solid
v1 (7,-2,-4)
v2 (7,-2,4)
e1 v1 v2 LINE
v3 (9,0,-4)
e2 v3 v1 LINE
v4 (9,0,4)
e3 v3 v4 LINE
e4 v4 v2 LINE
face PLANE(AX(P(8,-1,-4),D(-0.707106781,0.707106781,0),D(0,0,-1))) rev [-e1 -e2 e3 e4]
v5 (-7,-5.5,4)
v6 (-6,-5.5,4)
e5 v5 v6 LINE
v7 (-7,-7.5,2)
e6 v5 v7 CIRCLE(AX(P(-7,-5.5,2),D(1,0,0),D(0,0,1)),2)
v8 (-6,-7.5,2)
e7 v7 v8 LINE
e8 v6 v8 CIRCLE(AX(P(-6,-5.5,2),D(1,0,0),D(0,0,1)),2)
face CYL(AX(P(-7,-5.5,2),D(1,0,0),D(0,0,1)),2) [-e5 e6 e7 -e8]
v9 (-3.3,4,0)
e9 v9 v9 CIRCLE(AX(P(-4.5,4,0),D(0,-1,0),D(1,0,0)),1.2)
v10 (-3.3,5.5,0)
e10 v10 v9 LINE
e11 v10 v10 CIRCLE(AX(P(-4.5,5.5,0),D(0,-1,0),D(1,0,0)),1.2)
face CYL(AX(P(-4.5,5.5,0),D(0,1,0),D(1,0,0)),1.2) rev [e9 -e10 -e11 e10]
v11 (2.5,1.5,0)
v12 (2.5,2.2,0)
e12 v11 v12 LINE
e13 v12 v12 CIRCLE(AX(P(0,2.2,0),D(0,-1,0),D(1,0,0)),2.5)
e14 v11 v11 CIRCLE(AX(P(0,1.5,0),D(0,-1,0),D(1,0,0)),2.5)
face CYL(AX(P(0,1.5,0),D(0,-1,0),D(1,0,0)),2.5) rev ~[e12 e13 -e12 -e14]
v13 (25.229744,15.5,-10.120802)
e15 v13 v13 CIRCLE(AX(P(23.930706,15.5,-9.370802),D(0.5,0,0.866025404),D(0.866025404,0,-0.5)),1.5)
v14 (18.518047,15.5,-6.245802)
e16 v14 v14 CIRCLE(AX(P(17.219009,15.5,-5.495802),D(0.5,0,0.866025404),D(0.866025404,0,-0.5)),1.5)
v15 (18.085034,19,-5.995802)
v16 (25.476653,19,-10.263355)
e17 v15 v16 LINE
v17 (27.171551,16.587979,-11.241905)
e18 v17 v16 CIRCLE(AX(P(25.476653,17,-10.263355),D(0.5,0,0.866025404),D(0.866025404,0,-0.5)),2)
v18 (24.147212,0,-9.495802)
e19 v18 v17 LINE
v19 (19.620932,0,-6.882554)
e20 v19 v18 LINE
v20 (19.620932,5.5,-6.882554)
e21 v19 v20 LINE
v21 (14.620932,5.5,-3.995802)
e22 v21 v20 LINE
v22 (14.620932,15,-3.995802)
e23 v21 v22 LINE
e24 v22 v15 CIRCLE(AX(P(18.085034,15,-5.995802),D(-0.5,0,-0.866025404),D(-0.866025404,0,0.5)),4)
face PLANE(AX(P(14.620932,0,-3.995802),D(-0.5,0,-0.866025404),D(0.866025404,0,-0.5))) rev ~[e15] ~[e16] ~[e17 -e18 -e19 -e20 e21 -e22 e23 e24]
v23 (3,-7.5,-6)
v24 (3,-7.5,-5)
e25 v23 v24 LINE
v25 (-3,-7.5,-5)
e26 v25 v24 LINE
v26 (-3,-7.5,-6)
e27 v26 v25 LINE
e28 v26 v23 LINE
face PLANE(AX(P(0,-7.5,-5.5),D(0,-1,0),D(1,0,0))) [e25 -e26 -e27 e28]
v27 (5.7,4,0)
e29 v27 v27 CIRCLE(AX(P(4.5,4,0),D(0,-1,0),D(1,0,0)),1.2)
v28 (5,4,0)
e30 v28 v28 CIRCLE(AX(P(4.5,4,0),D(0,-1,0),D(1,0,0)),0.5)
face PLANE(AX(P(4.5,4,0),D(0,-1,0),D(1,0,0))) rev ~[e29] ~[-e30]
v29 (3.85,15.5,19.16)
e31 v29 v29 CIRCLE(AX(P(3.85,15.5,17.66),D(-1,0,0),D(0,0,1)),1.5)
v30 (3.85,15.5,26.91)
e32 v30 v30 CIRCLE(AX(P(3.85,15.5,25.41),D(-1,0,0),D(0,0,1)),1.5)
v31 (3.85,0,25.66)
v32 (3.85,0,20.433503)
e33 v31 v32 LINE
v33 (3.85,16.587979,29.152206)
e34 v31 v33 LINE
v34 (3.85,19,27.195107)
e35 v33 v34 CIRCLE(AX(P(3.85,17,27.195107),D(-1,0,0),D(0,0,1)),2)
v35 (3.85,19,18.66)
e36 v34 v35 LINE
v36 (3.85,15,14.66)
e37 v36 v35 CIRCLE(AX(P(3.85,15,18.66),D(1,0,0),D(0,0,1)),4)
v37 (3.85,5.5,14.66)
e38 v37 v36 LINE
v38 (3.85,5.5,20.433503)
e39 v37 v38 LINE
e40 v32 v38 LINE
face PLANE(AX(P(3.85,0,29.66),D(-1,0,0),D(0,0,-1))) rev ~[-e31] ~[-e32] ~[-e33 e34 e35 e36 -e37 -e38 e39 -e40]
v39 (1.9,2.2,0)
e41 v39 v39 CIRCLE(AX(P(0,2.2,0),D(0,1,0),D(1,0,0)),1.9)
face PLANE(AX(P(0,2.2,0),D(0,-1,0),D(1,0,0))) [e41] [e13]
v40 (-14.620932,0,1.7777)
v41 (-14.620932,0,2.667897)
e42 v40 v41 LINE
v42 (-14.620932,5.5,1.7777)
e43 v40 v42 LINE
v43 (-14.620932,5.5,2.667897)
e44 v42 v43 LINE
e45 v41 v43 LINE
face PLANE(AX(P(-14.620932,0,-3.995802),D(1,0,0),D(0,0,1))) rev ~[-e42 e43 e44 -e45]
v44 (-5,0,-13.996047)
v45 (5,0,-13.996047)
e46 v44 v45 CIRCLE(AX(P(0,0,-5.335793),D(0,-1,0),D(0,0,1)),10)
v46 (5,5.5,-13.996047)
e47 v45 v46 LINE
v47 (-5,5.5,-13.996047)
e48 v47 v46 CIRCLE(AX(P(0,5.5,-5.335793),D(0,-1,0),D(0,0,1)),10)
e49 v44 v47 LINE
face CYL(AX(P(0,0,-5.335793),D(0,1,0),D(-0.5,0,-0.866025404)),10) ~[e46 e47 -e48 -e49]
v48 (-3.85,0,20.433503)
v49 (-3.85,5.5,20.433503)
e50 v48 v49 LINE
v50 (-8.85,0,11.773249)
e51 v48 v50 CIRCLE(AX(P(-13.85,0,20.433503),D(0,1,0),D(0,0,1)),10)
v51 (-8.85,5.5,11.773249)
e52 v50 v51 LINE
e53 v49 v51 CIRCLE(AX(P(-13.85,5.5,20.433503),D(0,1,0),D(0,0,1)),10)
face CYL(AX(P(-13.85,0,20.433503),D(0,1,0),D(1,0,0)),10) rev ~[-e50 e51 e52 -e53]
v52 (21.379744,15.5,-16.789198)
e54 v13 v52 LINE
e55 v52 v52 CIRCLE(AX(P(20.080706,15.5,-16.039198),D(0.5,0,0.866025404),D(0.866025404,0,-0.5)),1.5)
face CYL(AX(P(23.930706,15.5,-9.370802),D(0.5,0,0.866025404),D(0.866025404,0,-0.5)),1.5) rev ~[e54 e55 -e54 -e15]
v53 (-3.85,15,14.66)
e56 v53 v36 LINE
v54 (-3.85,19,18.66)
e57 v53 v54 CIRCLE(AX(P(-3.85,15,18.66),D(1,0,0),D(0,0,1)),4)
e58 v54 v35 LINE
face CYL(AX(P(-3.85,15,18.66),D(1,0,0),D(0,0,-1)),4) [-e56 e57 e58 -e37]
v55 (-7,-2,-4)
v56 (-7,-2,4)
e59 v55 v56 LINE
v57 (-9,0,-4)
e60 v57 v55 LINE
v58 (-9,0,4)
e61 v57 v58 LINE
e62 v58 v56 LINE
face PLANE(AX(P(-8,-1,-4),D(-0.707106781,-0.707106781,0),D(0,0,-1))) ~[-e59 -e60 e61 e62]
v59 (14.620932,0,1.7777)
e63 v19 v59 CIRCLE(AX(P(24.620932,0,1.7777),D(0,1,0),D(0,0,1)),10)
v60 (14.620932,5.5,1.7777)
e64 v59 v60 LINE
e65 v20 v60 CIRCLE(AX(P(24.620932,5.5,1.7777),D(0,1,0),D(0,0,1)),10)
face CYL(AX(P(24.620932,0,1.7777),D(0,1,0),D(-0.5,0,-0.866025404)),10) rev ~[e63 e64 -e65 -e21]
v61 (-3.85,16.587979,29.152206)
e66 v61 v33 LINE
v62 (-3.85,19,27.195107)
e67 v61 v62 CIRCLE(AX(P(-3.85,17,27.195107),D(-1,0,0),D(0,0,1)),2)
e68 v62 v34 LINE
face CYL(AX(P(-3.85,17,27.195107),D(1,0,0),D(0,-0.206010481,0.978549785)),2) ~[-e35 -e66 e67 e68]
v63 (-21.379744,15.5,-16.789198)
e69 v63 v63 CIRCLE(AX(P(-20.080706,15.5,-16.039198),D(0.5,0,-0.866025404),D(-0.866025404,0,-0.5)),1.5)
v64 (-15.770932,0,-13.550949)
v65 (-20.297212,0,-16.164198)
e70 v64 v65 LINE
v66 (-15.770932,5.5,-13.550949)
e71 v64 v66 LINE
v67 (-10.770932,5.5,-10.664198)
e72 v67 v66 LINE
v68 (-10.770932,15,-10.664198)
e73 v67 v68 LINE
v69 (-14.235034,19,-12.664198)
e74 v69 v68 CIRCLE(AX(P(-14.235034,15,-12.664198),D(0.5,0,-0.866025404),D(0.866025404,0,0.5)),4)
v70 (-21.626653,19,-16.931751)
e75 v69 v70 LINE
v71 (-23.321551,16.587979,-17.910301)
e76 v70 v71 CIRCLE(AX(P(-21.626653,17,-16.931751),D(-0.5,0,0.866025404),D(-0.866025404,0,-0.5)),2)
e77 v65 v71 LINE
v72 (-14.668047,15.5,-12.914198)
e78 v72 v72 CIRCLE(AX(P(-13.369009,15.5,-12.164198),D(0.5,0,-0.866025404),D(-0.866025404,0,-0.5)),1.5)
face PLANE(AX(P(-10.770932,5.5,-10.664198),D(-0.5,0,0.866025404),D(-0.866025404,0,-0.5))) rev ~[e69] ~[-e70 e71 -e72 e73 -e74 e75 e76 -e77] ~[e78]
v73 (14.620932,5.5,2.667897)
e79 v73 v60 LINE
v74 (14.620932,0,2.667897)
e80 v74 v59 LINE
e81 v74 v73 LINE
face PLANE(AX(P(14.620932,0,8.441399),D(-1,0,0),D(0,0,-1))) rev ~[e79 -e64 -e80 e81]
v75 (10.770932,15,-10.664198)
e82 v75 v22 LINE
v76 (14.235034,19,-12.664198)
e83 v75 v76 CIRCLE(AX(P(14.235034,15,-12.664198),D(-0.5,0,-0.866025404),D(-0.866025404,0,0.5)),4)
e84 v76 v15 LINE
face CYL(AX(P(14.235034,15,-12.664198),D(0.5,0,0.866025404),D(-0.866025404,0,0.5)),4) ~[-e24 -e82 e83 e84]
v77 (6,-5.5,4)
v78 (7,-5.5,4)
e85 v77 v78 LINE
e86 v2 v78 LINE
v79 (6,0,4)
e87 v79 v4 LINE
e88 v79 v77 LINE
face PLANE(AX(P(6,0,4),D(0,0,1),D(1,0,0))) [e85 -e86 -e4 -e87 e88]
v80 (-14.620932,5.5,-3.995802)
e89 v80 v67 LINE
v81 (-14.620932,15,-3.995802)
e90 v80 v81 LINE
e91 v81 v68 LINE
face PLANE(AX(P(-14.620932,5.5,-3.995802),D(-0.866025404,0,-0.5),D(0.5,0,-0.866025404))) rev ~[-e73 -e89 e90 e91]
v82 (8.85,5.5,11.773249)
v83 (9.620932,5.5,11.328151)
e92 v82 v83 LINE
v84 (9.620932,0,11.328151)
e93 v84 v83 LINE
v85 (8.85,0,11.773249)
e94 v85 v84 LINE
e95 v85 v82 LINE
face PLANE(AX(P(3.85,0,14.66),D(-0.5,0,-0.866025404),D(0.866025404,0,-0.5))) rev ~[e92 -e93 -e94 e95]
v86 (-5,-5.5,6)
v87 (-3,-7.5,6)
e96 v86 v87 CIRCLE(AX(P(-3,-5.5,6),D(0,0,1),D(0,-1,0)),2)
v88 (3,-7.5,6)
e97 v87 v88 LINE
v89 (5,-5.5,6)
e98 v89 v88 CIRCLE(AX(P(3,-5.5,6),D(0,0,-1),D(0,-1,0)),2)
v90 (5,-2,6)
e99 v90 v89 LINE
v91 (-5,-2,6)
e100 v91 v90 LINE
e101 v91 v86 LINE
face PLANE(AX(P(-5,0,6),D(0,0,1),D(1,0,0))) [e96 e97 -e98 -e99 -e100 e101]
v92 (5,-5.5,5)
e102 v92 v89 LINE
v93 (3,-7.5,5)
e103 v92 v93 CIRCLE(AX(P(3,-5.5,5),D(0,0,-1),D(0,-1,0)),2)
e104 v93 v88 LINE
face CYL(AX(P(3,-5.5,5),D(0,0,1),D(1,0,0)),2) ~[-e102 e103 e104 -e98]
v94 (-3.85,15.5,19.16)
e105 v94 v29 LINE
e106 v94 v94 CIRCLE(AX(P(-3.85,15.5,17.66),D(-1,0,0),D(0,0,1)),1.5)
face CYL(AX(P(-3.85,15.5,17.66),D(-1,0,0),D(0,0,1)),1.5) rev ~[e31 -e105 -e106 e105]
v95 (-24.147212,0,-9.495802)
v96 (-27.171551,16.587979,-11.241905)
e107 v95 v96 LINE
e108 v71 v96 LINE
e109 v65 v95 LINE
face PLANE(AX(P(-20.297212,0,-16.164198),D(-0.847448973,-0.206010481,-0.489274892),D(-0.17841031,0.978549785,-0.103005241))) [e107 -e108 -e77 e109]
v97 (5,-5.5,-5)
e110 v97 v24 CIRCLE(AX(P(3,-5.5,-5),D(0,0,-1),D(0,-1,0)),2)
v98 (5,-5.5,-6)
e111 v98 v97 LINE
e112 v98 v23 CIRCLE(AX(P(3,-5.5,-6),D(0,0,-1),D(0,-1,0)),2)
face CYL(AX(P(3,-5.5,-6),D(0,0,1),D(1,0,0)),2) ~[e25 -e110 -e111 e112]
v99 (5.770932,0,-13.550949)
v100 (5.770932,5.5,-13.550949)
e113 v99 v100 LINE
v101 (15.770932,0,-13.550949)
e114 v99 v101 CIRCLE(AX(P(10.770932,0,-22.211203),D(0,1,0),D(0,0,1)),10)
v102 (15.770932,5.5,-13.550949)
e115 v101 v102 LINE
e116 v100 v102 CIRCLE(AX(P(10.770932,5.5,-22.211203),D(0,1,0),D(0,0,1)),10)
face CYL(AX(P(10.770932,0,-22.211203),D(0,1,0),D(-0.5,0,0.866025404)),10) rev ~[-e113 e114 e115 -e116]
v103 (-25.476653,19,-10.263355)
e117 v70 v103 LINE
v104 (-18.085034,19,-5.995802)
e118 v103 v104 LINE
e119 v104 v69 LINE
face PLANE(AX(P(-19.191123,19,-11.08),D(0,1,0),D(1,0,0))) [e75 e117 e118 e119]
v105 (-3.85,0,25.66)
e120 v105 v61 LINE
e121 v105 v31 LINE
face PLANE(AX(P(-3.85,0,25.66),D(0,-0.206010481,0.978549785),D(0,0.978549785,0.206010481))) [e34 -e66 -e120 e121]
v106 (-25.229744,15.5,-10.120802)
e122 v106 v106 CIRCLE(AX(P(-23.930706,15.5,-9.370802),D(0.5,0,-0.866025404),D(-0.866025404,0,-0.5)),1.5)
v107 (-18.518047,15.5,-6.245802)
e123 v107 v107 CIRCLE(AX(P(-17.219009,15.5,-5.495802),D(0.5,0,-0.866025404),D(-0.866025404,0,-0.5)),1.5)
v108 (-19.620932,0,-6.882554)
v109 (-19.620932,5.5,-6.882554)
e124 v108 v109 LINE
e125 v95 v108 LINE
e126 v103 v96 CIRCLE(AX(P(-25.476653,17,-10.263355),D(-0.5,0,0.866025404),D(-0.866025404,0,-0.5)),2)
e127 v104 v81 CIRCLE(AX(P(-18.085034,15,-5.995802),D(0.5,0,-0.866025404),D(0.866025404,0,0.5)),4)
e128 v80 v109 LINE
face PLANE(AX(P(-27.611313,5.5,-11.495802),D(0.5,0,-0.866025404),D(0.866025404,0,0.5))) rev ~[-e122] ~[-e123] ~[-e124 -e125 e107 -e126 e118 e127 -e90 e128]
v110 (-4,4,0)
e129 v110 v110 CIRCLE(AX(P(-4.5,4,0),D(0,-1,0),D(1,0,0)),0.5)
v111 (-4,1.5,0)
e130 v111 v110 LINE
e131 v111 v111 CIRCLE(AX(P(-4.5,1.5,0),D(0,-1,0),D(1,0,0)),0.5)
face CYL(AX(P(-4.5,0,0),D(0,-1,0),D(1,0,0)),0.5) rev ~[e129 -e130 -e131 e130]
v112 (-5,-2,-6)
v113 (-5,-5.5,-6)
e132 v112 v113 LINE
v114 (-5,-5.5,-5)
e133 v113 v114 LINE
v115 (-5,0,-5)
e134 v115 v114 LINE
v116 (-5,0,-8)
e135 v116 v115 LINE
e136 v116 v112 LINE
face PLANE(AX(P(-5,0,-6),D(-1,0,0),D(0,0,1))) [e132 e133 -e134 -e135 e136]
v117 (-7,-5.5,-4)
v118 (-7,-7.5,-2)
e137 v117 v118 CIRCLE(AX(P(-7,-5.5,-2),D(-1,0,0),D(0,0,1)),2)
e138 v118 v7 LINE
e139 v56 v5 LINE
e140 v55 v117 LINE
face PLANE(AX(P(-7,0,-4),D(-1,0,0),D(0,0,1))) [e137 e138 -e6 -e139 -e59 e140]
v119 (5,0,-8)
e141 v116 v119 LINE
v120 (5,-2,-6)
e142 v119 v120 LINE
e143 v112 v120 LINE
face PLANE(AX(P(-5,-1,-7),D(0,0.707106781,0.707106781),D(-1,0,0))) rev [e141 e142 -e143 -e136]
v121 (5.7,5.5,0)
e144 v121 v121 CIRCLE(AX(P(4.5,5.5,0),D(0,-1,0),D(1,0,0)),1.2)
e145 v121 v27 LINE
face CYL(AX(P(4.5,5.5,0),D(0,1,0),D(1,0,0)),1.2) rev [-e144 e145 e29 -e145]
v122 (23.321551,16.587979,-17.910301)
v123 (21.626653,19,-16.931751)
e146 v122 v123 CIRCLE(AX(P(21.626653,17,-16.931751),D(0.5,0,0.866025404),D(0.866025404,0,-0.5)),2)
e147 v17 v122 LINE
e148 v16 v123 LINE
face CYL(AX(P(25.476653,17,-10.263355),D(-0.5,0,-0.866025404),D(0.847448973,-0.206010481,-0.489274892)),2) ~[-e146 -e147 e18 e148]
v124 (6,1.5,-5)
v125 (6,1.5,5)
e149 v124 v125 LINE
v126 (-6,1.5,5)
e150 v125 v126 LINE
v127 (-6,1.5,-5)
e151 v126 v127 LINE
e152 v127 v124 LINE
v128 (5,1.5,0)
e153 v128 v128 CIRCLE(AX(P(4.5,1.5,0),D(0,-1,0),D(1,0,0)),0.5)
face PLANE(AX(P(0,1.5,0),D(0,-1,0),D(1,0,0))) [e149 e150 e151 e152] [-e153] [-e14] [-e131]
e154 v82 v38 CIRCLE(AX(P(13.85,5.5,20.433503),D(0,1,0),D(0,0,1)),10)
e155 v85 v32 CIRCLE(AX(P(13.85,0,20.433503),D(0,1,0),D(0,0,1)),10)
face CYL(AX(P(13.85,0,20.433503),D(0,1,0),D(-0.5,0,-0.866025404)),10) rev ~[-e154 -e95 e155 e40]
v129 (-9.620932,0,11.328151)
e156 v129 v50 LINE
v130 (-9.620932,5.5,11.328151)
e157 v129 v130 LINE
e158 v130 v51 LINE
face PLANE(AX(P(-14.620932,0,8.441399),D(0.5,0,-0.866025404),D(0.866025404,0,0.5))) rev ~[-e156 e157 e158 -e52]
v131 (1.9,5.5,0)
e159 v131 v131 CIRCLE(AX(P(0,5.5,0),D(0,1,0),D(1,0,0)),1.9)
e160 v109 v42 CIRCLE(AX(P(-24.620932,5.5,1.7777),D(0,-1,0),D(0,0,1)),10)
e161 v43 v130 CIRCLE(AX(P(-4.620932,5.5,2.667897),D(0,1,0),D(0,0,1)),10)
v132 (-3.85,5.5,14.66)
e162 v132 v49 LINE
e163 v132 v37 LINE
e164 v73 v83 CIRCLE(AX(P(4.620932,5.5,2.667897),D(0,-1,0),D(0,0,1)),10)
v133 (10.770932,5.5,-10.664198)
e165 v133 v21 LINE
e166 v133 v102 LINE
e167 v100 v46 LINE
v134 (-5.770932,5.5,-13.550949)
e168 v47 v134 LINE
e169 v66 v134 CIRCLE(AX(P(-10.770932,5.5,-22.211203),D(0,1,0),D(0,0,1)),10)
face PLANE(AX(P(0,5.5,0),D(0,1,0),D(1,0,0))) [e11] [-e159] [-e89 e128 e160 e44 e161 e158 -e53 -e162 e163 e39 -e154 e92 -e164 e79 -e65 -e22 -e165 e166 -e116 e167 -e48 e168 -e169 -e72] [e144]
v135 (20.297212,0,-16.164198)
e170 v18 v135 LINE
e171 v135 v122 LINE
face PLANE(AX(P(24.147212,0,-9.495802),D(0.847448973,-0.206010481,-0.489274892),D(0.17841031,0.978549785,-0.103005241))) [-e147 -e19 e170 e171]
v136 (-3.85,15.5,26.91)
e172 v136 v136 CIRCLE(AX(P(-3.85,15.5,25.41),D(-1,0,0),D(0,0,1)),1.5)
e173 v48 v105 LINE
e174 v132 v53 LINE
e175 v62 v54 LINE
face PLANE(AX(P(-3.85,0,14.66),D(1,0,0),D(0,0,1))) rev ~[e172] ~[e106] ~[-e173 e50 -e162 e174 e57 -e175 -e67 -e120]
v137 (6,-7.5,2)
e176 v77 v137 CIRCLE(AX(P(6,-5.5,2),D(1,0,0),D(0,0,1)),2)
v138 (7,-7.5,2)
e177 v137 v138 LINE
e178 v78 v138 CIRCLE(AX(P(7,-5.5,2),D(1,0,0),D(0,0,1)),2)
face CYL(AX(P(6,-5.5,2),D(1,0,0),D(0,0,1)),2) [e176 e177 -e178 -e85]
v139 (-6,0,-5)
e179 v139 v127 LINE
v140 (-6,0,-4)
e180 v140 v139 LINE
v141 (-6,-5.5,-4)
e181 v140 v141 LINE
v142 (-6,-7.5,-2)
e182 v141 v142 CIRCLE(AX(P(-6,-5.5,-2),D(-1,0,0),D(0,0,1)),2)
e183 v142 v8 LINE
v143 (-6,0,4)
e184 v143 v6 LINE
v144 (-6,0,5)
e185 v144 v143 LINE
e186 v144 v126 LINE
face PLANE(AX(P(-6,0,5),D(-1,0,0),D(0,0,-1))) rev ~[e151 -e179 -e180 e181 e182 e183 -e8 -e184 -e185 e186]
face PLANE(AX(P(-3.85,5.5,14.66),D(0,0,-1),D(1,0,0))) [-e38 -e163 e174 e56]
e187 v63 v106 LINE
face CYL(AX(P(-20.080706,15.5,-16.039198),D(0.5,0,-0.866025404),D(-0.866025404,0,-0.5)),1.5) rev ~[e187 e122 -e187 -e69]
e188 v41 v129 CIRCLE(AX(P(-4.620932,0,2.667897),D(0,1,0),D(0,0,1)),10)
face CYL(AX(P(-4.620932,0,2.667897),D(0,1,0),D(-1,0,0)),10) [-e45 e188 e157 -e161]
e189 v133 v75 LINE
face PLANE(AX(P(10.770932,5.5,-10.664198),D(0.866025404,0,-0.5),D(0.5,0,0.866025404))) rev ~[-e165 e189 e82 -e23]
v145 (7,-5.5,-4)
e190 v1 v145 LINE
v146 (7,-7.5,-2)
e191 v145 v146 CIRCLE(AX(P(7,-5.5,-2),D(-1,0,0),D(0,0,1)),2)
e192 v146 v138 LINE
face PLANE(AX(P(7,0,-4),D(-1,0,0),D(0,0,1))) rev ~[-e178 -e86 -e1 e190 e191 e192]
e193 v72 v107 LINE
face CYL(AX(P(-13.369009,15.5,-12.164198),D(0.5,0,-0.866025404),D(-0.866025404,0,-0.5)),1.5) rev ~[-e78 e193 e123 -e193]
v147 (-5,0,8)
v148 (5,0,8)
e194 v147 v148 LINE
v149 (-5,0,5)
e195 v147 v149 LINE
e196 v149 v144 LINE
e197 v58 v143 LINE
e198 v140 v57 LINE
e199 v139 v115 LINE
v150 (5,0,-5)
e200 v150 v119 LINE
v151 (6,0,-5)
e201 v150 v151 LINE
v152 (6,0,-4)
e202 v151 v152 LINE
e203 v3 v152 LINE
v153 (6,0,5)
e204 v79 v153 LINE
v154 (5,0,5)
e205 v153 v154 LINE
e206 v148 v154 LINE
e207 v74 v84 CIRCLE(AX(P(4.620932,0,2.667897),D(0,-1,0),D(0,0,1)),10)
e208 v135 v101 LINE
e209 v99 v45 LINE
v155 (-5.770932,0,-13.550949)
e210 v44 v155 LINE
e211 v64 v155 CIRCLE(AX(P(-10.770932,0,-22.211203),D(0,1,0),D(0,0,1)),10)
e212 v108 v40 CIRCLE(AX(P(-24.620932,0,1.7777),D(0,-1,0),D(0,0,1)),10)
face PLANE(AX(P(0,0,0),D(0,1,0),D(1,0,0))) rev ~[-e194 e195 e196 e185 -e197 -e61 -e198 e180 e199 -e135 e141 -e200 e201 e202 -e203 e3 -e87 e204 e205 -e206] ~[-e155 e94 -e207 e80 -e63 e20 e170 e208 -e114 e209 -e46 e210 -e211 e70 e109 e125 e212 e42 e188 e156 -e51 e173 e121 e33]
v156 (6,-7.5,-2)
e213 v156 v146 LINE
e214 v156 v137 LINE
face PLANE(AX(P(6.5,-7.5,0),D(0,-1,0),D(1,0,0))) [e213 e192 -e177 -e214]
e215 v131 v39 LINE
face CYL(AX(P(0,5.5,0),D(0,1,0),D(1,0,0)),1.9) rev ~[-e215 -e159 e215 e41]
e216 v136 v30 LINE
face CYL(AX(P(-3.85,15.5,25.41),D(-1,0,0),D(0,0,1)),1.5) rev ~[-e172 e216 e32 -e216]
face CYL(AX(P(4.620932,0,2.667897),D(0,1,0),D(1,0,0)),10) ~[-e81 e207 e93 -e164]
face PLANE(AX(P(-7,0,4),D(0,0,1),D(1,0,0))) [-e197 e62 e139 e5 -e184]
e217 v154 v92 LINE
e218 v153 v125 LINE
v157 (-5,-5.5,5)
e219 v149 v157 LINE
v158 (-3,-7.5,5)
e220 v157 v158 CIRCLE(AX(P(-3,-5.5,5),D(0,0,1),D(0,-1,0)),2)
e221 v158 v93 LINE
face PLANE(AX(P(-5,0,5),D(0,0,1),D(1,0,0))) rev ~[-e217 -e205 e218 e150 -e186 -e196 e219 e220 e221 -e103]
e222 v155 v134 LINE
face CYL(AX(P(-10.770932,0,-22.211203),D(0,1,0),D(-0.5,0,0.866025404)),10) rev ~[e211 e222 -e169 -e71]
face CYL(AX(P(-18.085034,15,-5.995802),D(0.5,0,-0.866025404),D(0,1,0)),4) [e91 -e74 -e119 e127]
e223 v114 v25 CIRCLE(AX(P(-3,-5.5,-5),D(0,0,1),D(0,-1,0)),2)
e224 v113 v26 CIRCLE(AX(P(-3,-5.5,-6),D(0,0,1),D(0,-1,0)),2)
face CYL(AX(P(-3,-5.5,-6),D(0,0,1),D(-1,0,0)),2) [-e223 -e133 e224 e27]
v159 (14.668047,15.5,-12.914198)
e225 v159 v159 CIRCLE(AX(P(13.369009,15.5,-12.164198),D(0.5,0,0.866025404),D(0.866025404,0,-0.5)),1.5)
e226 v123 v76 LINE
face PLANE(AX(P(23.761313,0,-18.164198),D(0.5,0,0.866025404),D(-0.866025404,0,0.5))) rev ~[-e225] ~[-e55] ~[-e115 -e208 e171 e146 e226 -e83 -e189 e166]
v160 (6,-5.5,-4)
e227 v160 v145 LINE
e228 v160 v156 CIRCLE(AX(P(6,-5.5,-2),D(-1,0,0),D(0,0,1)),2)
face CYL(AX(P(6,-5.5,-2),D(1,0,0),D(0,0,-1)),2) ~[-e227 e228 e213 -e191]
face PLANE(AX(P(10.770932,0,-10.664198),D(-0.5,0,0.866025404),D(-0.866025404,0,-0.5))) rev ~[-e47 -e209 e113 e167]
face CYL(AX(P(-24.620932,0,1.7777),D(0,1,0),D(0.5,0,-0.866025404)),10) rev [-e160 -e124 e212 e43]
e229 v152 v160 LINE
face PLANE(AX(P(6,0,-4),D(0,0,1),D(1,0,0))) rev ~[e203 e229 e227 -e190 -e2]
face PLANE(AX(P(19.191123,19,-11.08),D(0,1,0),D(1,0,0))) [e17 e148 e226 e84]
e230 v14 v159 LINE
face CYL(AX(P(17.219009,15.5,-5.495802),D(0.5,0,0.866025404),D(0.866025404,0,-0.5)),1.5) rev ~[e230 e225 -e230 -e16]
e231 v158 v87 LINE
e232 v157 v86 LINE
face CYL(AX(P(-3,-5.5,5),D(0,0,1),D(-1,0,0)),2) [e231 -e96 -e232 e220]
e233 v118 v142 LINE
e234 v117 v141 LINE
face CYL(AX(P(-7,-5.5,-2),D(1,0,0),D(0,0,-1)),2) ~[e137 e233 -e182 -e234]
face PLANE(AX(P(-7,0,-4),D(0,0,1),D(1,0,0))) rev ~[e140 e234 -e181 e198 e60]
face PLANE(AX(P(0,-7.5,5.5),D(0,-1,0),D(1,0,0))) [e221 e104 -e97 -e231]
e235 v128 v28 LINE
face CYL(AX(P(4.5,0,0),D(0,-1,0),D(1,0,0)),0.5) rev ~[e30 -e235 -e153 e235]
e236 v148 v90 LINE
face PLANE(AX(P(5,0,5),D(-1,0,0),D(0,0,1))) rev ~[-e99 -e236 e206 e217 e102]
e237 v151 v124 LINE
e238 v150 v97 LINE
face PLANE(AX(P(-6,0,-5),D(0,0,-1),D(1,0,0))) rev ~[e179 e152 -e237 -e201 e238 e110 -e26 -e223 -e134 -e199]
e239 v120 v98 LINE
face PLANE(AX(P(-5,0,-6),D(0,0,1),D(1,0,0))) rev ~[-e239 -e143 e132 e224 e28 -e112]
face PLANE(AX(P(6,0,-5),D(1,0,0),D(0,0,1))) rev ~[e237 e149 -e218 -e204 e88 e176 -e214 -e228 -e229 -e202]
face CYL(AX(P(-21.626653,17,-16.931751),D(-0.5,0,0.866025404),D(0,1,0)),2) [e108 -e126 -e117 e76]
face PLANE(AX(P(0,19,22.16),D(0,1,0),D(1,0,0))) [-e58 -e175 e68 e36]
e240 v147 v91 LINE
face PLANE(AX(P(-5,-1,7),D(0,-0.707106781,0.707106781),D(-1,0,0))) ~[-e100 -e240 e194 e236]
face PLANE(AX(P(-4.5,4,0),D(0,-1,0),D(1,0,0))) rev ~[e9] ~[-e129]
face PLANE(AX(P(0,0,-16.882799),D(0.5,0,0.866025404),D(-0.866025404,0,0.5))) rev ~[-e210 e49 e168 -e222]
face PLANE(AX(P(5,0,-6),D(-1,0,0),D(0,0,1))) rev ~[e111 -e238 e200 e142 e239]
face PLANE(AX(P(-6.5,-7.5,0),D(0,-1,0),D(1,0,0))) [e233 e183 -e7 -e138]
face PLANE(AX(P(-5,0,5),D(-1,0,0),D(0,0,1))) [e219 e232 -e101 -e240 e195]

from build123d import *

# Parameters (mm, degrees)
BOSS_EXTRUSION_DEPTH     = 5.5
SCHIZZO2_W               = 7.7
SCHIZZO2_H               = 15
EXTERNAL_EXTRUSION_DEPTH = 13.5
SCHIZZO3_R               = 1.9
CETRAL_HOLE_DEPTH        = 6.5
SKETCH1_R                = 1.5
CUT_EXTRUDE1_DEPTH       = 7.7
CIRPATTERN1_COUNT        = 3
FILLET1_R                = 10
FILLET2_R                = 4
FILLET3_R                = 2
SKETCH2_R                = 0.5
CUT_EXTRUDE2_DEPTH       = 7.7
SKETCH2_5_W              = 1
SKETCH2_5_H              = 8
SKETCH2_5_W_2            = 10
SKETCH2_5_H_2            = 1
BOSS_EXTRUDE1_DEPTH      = 7.5
FILLET4_R                = 2
CHAMFER1_SIZE            = 2
SKETCH2_6_R              = 1.2
SKETCH2_6_R_2            = 1.9
SKETCH2_6_R_3            = 0.5
CUT_EXTRUDE4_DEPTH       = 1.5
CUT_EXTRUDE5_START       = -5.5
SKETCH2_7_R              = 1.2
SKETCH2_7_R_2            = 0.5
CUT_EXTRUDE5_DEPTH       = 1.5
SKETCH4_R                = 2.5
CUT_EXTRUDE6_DEPTH       = 0.7


with BuildPart() as part:
    # Schizzo1 → Boss extrusion (new body)
    with BuildSketch(Plane(origin=(0, 0, 0), x_dir=(1, 0, 0), z_dir=(0, 1, 0))):
        Polygon((-27.611313476, 11.495802195), (-14.620932419, 3.995802195), (-14.620932419, -8.441399268), (-3.85, -14.66), (-3.85, -29.66), (3.85, -29.66), (3.85, -14.66), (14.620932419, -8.441399268), (14.620932419, 3.995802195), (27.611313476, 11.495802195), (23.761313476, 18.164197805), (10.770932419, 10.664197805), (0, 16.882798536), (-10.770932419, 10.664197805), (-23.761313476, 18.164197805), align=None)
    extrude(amount=BOSS_EXTRUSION_DEPTH)

    # Schizzo2 → external extrusion (add)
    with BuildSketch(Plane(origin=(0, 5.5, 0), x_dir=(1, 0, 0), z_dir=(0, 1, 0))):
        Polygon((-23.761313476, 18.164197805), (-27.611313476, 11.495802195), (-14.620932419, 3.995802195), (-10.770932419, 10.664197805), align=None)
        with Locations((0, -22.16)):
            Rectangle(SCHIZZO2_W, SCHIZZO2_H)
        Polygon((10.770932419, 10.664197805), (14.620932419, 3.995802195), (27.611313476, 11.495802195), (23.761313476, 18.164197805), align=None)
    extrude(amount=EXTERNAL_EXTRUSION_DEPTH)

    # Schizzo3 → cetral hole (cut, through all)
    with BuildSketch(Plane(origin=(0, 5.5, 0), x_dir=(1, 0, 0), z_dir=(0, 1, 0))):
        Circle(SCHIZZO3_R)
    extrude(amount=-CETRAL_HOLE_DEPTH, mode=Mode.SUBTRACT)

    # Sketch1 → Cut-Extrude1 (cut)
    with BuildSketch(Plane.ZY.offset(3.85)):
        with Locations((17.66, 15.5)):
            Circle(SKETCH1_R)
        with Locations((25.41, 15.5)):
            Circle(SKETCH1_R)
        Polygon((29.66, 19), (29.66, 0), (25.66, 0), align=None)
    cut_extrude1 = extrude(amount=-CUT_EXTRUDE1_DEPTH, mode=Mode.SUBTRACT)

    # CirPattern1: Cut-Extrude1 ×3 about axis
    cirpattern1_axis = Axis((0, 0, 0), (0, 1, 0))
    for i in range(1, CIRPATTERN1_COUNT):
        add(cut_extrude1.rotate(cirpattern1_axis, i * 360 / CIRPATTERN1_COUNT), mode=Mode.SUBTRACT)

    # Fillet1
    fillet1_edges = [part.edges().sort_by_distance(p)[0] for p in [
        (-3.85, 2.75, 14.66),
        (-14.620932419, 2.75, 8.441399268),
        (-14.620932419, 2.75, -3.995802195),
        (-10.770932419, 2.75, -10.664197805),
        (0, 2.75, -16.882798536),
        (10.770932419, 2.75, -10.664197805),
        (14.620932419, 2.75, -3.995802195),
        (14.620932419, 2.75, 8.441399268),
        (3.85, 2.75, 14.66),
    ]]
    fillet(fillet1_edges, radius=FILLET1_R)

    # Fillet2
    fillet2_edges = [part.edges().sort_by_distance(p)[0] for p in [
        (-12.695932419, 19, -7.33),
        (0, 19, 14.66),
        (12.695932419, 19, -7.33),
    ]]
    fillet(fillet2_edges, radius=FILLET2_R)

    # Fillet3
    fillet3_edges = [part.edges().sort_by_distance(p)[0] for p in [
        (-25.686313476, 19, -14.83),
        (0, 19, 29.66),
        (25.686313476, 19, -14.83),
    ]]
    fillet(fillet3_edges, radius=FILLET3_R)

    # Sketch2 → Cut-Extrude2 (cut)
    with BuildSketch(Plane.XZ):
        with Locations((-4.5, 0)):
            Circle(SKETCH2_R)
        with Locations((4.5, 0)):
            Circle(SKETCH2_R)
    extrude(amount=-CUT_EXTRUDE2_DEPTH, mode=Mode.SUBTRACT)

    # Sketch2<5> → Boss-Extrude1 (add)
    with BuildSketch(Plane.XZ):
        with Locations((6.5, 0)):
            Rectangle(SKETCH2_5_W, SKETCH2_5_H)
        with Locations((0, 5.5)):
            Rectangle(SKETCH2_5_W_2, SKETCH2_5_H_2)
        with Locations((-6.5, 0)):
            Rectangle(SKETCH2_5_W, SKETCH2_5_H)
        with Locations((0, -5.5)):
            Rectangle(SKETCH2_5_W_2, SKETCH2_5_H_2)
    extrude(amount=BOSS_EXTRUDE1_DEPTH)

    # Fillet4
    fillet4_edges = [part.edges().sort_by_distance(p)[0] for p in [
        (6.5, -7.5, 4),
        (6.5, -7.5, -4),
        (-5, -7.5, 5.5),
        (5, -7.5, 5.5),
        (-6.5, -7.5, -4),
        (-6.5, -7.5, 4),
        (5, -7.5, -5.5),
        (-5, -7.5, -5.5),
    ]]
    fillet(fillet4_edges, radius=FILLET4_R)

    # Chamfer1
    chamfer1_edges = [part.edges().sort_by_distance(p)[0] for p in [
        (7, 0, 0),
        (0, 0, 6),
        (-7, 0, 0),
        (0, 0, -6),
    ]]
    chamfer(chamfer1_edges, length=CHAMFER1_SIZE)

    # Sketch2<6> → Cut-Extrude4 (cut)
    with BuildSketch(Plane.XZ):
        Polygon((-6, 4), (-6, -4), (-6, -5), (-5, -5), (5, -5), (6, -5), (6, -4), (6, 4), (6, 5), (5, 5), (-5, 5), (-6, 5), align=None)
        with Locations((-4.5, 0)):
            Circle(SKETCH2_6_R, mode=Mode.SUBTRACT)
        Circle(SKETCH2_6_R_2, mode=Mode.SUBTRACT)
        with Locations((4.5, 0)):
            Circle(SKETCH2_6_R, mode=Mode.SUBTRACT)
        with Locations((-4.5, 0)):
            Circle(SKETCH2_6_R)
        with Locations((-4.5, 0)):
            Circle(SKETCH2_6_R_3, mode=Mode.SUBTRACT)
        with Locations((4.5, 0)):
            Circle(SKETCH2_6_R)
        with Locations((4.5, 0)):
            Circle(SKETCH2_6_R_3, mode=Mode.SUBTRACT)
    extrude(amount=-CUT_EXTRUDE4_DEPTH, mode=Mode.SUBTRACT)

    # Sketch2<7> → Cut-Extrude5 (cut)
    with BuildSketch(Plane.XZ.offset(CUT_EXTRUDE5_START)):
        with Locations((-4.5, 0)):
            Circle(SKETCH2_7_R)
        with Locations((-4.5, 0)):
            Circle(SKETCH2_7_R_2, mode=Mode.SUBTRACT)
        with Locations((4.5, 0)):
            Circle(SKETCH2_7_R)
        with Locations((4.5, 0)):
            Circle(SKETCH2_7_R_2, mode=Mode.SUBTRACT)
    extrude(amount=CUT_EXTRUDE5_DEPTH, mode=Mode.SUBTRACT)

    # Sketch4 → Cut-Extrude6 (cut)
    with BuildSketch(Plane.XZ.offset(-1.5)):
        Circle(SKETCH4_R)
    extrude(amount=-CUT_EXTRUDE6_DEPTH, mode=Mode.SUBTRACT)


solid = part.part
